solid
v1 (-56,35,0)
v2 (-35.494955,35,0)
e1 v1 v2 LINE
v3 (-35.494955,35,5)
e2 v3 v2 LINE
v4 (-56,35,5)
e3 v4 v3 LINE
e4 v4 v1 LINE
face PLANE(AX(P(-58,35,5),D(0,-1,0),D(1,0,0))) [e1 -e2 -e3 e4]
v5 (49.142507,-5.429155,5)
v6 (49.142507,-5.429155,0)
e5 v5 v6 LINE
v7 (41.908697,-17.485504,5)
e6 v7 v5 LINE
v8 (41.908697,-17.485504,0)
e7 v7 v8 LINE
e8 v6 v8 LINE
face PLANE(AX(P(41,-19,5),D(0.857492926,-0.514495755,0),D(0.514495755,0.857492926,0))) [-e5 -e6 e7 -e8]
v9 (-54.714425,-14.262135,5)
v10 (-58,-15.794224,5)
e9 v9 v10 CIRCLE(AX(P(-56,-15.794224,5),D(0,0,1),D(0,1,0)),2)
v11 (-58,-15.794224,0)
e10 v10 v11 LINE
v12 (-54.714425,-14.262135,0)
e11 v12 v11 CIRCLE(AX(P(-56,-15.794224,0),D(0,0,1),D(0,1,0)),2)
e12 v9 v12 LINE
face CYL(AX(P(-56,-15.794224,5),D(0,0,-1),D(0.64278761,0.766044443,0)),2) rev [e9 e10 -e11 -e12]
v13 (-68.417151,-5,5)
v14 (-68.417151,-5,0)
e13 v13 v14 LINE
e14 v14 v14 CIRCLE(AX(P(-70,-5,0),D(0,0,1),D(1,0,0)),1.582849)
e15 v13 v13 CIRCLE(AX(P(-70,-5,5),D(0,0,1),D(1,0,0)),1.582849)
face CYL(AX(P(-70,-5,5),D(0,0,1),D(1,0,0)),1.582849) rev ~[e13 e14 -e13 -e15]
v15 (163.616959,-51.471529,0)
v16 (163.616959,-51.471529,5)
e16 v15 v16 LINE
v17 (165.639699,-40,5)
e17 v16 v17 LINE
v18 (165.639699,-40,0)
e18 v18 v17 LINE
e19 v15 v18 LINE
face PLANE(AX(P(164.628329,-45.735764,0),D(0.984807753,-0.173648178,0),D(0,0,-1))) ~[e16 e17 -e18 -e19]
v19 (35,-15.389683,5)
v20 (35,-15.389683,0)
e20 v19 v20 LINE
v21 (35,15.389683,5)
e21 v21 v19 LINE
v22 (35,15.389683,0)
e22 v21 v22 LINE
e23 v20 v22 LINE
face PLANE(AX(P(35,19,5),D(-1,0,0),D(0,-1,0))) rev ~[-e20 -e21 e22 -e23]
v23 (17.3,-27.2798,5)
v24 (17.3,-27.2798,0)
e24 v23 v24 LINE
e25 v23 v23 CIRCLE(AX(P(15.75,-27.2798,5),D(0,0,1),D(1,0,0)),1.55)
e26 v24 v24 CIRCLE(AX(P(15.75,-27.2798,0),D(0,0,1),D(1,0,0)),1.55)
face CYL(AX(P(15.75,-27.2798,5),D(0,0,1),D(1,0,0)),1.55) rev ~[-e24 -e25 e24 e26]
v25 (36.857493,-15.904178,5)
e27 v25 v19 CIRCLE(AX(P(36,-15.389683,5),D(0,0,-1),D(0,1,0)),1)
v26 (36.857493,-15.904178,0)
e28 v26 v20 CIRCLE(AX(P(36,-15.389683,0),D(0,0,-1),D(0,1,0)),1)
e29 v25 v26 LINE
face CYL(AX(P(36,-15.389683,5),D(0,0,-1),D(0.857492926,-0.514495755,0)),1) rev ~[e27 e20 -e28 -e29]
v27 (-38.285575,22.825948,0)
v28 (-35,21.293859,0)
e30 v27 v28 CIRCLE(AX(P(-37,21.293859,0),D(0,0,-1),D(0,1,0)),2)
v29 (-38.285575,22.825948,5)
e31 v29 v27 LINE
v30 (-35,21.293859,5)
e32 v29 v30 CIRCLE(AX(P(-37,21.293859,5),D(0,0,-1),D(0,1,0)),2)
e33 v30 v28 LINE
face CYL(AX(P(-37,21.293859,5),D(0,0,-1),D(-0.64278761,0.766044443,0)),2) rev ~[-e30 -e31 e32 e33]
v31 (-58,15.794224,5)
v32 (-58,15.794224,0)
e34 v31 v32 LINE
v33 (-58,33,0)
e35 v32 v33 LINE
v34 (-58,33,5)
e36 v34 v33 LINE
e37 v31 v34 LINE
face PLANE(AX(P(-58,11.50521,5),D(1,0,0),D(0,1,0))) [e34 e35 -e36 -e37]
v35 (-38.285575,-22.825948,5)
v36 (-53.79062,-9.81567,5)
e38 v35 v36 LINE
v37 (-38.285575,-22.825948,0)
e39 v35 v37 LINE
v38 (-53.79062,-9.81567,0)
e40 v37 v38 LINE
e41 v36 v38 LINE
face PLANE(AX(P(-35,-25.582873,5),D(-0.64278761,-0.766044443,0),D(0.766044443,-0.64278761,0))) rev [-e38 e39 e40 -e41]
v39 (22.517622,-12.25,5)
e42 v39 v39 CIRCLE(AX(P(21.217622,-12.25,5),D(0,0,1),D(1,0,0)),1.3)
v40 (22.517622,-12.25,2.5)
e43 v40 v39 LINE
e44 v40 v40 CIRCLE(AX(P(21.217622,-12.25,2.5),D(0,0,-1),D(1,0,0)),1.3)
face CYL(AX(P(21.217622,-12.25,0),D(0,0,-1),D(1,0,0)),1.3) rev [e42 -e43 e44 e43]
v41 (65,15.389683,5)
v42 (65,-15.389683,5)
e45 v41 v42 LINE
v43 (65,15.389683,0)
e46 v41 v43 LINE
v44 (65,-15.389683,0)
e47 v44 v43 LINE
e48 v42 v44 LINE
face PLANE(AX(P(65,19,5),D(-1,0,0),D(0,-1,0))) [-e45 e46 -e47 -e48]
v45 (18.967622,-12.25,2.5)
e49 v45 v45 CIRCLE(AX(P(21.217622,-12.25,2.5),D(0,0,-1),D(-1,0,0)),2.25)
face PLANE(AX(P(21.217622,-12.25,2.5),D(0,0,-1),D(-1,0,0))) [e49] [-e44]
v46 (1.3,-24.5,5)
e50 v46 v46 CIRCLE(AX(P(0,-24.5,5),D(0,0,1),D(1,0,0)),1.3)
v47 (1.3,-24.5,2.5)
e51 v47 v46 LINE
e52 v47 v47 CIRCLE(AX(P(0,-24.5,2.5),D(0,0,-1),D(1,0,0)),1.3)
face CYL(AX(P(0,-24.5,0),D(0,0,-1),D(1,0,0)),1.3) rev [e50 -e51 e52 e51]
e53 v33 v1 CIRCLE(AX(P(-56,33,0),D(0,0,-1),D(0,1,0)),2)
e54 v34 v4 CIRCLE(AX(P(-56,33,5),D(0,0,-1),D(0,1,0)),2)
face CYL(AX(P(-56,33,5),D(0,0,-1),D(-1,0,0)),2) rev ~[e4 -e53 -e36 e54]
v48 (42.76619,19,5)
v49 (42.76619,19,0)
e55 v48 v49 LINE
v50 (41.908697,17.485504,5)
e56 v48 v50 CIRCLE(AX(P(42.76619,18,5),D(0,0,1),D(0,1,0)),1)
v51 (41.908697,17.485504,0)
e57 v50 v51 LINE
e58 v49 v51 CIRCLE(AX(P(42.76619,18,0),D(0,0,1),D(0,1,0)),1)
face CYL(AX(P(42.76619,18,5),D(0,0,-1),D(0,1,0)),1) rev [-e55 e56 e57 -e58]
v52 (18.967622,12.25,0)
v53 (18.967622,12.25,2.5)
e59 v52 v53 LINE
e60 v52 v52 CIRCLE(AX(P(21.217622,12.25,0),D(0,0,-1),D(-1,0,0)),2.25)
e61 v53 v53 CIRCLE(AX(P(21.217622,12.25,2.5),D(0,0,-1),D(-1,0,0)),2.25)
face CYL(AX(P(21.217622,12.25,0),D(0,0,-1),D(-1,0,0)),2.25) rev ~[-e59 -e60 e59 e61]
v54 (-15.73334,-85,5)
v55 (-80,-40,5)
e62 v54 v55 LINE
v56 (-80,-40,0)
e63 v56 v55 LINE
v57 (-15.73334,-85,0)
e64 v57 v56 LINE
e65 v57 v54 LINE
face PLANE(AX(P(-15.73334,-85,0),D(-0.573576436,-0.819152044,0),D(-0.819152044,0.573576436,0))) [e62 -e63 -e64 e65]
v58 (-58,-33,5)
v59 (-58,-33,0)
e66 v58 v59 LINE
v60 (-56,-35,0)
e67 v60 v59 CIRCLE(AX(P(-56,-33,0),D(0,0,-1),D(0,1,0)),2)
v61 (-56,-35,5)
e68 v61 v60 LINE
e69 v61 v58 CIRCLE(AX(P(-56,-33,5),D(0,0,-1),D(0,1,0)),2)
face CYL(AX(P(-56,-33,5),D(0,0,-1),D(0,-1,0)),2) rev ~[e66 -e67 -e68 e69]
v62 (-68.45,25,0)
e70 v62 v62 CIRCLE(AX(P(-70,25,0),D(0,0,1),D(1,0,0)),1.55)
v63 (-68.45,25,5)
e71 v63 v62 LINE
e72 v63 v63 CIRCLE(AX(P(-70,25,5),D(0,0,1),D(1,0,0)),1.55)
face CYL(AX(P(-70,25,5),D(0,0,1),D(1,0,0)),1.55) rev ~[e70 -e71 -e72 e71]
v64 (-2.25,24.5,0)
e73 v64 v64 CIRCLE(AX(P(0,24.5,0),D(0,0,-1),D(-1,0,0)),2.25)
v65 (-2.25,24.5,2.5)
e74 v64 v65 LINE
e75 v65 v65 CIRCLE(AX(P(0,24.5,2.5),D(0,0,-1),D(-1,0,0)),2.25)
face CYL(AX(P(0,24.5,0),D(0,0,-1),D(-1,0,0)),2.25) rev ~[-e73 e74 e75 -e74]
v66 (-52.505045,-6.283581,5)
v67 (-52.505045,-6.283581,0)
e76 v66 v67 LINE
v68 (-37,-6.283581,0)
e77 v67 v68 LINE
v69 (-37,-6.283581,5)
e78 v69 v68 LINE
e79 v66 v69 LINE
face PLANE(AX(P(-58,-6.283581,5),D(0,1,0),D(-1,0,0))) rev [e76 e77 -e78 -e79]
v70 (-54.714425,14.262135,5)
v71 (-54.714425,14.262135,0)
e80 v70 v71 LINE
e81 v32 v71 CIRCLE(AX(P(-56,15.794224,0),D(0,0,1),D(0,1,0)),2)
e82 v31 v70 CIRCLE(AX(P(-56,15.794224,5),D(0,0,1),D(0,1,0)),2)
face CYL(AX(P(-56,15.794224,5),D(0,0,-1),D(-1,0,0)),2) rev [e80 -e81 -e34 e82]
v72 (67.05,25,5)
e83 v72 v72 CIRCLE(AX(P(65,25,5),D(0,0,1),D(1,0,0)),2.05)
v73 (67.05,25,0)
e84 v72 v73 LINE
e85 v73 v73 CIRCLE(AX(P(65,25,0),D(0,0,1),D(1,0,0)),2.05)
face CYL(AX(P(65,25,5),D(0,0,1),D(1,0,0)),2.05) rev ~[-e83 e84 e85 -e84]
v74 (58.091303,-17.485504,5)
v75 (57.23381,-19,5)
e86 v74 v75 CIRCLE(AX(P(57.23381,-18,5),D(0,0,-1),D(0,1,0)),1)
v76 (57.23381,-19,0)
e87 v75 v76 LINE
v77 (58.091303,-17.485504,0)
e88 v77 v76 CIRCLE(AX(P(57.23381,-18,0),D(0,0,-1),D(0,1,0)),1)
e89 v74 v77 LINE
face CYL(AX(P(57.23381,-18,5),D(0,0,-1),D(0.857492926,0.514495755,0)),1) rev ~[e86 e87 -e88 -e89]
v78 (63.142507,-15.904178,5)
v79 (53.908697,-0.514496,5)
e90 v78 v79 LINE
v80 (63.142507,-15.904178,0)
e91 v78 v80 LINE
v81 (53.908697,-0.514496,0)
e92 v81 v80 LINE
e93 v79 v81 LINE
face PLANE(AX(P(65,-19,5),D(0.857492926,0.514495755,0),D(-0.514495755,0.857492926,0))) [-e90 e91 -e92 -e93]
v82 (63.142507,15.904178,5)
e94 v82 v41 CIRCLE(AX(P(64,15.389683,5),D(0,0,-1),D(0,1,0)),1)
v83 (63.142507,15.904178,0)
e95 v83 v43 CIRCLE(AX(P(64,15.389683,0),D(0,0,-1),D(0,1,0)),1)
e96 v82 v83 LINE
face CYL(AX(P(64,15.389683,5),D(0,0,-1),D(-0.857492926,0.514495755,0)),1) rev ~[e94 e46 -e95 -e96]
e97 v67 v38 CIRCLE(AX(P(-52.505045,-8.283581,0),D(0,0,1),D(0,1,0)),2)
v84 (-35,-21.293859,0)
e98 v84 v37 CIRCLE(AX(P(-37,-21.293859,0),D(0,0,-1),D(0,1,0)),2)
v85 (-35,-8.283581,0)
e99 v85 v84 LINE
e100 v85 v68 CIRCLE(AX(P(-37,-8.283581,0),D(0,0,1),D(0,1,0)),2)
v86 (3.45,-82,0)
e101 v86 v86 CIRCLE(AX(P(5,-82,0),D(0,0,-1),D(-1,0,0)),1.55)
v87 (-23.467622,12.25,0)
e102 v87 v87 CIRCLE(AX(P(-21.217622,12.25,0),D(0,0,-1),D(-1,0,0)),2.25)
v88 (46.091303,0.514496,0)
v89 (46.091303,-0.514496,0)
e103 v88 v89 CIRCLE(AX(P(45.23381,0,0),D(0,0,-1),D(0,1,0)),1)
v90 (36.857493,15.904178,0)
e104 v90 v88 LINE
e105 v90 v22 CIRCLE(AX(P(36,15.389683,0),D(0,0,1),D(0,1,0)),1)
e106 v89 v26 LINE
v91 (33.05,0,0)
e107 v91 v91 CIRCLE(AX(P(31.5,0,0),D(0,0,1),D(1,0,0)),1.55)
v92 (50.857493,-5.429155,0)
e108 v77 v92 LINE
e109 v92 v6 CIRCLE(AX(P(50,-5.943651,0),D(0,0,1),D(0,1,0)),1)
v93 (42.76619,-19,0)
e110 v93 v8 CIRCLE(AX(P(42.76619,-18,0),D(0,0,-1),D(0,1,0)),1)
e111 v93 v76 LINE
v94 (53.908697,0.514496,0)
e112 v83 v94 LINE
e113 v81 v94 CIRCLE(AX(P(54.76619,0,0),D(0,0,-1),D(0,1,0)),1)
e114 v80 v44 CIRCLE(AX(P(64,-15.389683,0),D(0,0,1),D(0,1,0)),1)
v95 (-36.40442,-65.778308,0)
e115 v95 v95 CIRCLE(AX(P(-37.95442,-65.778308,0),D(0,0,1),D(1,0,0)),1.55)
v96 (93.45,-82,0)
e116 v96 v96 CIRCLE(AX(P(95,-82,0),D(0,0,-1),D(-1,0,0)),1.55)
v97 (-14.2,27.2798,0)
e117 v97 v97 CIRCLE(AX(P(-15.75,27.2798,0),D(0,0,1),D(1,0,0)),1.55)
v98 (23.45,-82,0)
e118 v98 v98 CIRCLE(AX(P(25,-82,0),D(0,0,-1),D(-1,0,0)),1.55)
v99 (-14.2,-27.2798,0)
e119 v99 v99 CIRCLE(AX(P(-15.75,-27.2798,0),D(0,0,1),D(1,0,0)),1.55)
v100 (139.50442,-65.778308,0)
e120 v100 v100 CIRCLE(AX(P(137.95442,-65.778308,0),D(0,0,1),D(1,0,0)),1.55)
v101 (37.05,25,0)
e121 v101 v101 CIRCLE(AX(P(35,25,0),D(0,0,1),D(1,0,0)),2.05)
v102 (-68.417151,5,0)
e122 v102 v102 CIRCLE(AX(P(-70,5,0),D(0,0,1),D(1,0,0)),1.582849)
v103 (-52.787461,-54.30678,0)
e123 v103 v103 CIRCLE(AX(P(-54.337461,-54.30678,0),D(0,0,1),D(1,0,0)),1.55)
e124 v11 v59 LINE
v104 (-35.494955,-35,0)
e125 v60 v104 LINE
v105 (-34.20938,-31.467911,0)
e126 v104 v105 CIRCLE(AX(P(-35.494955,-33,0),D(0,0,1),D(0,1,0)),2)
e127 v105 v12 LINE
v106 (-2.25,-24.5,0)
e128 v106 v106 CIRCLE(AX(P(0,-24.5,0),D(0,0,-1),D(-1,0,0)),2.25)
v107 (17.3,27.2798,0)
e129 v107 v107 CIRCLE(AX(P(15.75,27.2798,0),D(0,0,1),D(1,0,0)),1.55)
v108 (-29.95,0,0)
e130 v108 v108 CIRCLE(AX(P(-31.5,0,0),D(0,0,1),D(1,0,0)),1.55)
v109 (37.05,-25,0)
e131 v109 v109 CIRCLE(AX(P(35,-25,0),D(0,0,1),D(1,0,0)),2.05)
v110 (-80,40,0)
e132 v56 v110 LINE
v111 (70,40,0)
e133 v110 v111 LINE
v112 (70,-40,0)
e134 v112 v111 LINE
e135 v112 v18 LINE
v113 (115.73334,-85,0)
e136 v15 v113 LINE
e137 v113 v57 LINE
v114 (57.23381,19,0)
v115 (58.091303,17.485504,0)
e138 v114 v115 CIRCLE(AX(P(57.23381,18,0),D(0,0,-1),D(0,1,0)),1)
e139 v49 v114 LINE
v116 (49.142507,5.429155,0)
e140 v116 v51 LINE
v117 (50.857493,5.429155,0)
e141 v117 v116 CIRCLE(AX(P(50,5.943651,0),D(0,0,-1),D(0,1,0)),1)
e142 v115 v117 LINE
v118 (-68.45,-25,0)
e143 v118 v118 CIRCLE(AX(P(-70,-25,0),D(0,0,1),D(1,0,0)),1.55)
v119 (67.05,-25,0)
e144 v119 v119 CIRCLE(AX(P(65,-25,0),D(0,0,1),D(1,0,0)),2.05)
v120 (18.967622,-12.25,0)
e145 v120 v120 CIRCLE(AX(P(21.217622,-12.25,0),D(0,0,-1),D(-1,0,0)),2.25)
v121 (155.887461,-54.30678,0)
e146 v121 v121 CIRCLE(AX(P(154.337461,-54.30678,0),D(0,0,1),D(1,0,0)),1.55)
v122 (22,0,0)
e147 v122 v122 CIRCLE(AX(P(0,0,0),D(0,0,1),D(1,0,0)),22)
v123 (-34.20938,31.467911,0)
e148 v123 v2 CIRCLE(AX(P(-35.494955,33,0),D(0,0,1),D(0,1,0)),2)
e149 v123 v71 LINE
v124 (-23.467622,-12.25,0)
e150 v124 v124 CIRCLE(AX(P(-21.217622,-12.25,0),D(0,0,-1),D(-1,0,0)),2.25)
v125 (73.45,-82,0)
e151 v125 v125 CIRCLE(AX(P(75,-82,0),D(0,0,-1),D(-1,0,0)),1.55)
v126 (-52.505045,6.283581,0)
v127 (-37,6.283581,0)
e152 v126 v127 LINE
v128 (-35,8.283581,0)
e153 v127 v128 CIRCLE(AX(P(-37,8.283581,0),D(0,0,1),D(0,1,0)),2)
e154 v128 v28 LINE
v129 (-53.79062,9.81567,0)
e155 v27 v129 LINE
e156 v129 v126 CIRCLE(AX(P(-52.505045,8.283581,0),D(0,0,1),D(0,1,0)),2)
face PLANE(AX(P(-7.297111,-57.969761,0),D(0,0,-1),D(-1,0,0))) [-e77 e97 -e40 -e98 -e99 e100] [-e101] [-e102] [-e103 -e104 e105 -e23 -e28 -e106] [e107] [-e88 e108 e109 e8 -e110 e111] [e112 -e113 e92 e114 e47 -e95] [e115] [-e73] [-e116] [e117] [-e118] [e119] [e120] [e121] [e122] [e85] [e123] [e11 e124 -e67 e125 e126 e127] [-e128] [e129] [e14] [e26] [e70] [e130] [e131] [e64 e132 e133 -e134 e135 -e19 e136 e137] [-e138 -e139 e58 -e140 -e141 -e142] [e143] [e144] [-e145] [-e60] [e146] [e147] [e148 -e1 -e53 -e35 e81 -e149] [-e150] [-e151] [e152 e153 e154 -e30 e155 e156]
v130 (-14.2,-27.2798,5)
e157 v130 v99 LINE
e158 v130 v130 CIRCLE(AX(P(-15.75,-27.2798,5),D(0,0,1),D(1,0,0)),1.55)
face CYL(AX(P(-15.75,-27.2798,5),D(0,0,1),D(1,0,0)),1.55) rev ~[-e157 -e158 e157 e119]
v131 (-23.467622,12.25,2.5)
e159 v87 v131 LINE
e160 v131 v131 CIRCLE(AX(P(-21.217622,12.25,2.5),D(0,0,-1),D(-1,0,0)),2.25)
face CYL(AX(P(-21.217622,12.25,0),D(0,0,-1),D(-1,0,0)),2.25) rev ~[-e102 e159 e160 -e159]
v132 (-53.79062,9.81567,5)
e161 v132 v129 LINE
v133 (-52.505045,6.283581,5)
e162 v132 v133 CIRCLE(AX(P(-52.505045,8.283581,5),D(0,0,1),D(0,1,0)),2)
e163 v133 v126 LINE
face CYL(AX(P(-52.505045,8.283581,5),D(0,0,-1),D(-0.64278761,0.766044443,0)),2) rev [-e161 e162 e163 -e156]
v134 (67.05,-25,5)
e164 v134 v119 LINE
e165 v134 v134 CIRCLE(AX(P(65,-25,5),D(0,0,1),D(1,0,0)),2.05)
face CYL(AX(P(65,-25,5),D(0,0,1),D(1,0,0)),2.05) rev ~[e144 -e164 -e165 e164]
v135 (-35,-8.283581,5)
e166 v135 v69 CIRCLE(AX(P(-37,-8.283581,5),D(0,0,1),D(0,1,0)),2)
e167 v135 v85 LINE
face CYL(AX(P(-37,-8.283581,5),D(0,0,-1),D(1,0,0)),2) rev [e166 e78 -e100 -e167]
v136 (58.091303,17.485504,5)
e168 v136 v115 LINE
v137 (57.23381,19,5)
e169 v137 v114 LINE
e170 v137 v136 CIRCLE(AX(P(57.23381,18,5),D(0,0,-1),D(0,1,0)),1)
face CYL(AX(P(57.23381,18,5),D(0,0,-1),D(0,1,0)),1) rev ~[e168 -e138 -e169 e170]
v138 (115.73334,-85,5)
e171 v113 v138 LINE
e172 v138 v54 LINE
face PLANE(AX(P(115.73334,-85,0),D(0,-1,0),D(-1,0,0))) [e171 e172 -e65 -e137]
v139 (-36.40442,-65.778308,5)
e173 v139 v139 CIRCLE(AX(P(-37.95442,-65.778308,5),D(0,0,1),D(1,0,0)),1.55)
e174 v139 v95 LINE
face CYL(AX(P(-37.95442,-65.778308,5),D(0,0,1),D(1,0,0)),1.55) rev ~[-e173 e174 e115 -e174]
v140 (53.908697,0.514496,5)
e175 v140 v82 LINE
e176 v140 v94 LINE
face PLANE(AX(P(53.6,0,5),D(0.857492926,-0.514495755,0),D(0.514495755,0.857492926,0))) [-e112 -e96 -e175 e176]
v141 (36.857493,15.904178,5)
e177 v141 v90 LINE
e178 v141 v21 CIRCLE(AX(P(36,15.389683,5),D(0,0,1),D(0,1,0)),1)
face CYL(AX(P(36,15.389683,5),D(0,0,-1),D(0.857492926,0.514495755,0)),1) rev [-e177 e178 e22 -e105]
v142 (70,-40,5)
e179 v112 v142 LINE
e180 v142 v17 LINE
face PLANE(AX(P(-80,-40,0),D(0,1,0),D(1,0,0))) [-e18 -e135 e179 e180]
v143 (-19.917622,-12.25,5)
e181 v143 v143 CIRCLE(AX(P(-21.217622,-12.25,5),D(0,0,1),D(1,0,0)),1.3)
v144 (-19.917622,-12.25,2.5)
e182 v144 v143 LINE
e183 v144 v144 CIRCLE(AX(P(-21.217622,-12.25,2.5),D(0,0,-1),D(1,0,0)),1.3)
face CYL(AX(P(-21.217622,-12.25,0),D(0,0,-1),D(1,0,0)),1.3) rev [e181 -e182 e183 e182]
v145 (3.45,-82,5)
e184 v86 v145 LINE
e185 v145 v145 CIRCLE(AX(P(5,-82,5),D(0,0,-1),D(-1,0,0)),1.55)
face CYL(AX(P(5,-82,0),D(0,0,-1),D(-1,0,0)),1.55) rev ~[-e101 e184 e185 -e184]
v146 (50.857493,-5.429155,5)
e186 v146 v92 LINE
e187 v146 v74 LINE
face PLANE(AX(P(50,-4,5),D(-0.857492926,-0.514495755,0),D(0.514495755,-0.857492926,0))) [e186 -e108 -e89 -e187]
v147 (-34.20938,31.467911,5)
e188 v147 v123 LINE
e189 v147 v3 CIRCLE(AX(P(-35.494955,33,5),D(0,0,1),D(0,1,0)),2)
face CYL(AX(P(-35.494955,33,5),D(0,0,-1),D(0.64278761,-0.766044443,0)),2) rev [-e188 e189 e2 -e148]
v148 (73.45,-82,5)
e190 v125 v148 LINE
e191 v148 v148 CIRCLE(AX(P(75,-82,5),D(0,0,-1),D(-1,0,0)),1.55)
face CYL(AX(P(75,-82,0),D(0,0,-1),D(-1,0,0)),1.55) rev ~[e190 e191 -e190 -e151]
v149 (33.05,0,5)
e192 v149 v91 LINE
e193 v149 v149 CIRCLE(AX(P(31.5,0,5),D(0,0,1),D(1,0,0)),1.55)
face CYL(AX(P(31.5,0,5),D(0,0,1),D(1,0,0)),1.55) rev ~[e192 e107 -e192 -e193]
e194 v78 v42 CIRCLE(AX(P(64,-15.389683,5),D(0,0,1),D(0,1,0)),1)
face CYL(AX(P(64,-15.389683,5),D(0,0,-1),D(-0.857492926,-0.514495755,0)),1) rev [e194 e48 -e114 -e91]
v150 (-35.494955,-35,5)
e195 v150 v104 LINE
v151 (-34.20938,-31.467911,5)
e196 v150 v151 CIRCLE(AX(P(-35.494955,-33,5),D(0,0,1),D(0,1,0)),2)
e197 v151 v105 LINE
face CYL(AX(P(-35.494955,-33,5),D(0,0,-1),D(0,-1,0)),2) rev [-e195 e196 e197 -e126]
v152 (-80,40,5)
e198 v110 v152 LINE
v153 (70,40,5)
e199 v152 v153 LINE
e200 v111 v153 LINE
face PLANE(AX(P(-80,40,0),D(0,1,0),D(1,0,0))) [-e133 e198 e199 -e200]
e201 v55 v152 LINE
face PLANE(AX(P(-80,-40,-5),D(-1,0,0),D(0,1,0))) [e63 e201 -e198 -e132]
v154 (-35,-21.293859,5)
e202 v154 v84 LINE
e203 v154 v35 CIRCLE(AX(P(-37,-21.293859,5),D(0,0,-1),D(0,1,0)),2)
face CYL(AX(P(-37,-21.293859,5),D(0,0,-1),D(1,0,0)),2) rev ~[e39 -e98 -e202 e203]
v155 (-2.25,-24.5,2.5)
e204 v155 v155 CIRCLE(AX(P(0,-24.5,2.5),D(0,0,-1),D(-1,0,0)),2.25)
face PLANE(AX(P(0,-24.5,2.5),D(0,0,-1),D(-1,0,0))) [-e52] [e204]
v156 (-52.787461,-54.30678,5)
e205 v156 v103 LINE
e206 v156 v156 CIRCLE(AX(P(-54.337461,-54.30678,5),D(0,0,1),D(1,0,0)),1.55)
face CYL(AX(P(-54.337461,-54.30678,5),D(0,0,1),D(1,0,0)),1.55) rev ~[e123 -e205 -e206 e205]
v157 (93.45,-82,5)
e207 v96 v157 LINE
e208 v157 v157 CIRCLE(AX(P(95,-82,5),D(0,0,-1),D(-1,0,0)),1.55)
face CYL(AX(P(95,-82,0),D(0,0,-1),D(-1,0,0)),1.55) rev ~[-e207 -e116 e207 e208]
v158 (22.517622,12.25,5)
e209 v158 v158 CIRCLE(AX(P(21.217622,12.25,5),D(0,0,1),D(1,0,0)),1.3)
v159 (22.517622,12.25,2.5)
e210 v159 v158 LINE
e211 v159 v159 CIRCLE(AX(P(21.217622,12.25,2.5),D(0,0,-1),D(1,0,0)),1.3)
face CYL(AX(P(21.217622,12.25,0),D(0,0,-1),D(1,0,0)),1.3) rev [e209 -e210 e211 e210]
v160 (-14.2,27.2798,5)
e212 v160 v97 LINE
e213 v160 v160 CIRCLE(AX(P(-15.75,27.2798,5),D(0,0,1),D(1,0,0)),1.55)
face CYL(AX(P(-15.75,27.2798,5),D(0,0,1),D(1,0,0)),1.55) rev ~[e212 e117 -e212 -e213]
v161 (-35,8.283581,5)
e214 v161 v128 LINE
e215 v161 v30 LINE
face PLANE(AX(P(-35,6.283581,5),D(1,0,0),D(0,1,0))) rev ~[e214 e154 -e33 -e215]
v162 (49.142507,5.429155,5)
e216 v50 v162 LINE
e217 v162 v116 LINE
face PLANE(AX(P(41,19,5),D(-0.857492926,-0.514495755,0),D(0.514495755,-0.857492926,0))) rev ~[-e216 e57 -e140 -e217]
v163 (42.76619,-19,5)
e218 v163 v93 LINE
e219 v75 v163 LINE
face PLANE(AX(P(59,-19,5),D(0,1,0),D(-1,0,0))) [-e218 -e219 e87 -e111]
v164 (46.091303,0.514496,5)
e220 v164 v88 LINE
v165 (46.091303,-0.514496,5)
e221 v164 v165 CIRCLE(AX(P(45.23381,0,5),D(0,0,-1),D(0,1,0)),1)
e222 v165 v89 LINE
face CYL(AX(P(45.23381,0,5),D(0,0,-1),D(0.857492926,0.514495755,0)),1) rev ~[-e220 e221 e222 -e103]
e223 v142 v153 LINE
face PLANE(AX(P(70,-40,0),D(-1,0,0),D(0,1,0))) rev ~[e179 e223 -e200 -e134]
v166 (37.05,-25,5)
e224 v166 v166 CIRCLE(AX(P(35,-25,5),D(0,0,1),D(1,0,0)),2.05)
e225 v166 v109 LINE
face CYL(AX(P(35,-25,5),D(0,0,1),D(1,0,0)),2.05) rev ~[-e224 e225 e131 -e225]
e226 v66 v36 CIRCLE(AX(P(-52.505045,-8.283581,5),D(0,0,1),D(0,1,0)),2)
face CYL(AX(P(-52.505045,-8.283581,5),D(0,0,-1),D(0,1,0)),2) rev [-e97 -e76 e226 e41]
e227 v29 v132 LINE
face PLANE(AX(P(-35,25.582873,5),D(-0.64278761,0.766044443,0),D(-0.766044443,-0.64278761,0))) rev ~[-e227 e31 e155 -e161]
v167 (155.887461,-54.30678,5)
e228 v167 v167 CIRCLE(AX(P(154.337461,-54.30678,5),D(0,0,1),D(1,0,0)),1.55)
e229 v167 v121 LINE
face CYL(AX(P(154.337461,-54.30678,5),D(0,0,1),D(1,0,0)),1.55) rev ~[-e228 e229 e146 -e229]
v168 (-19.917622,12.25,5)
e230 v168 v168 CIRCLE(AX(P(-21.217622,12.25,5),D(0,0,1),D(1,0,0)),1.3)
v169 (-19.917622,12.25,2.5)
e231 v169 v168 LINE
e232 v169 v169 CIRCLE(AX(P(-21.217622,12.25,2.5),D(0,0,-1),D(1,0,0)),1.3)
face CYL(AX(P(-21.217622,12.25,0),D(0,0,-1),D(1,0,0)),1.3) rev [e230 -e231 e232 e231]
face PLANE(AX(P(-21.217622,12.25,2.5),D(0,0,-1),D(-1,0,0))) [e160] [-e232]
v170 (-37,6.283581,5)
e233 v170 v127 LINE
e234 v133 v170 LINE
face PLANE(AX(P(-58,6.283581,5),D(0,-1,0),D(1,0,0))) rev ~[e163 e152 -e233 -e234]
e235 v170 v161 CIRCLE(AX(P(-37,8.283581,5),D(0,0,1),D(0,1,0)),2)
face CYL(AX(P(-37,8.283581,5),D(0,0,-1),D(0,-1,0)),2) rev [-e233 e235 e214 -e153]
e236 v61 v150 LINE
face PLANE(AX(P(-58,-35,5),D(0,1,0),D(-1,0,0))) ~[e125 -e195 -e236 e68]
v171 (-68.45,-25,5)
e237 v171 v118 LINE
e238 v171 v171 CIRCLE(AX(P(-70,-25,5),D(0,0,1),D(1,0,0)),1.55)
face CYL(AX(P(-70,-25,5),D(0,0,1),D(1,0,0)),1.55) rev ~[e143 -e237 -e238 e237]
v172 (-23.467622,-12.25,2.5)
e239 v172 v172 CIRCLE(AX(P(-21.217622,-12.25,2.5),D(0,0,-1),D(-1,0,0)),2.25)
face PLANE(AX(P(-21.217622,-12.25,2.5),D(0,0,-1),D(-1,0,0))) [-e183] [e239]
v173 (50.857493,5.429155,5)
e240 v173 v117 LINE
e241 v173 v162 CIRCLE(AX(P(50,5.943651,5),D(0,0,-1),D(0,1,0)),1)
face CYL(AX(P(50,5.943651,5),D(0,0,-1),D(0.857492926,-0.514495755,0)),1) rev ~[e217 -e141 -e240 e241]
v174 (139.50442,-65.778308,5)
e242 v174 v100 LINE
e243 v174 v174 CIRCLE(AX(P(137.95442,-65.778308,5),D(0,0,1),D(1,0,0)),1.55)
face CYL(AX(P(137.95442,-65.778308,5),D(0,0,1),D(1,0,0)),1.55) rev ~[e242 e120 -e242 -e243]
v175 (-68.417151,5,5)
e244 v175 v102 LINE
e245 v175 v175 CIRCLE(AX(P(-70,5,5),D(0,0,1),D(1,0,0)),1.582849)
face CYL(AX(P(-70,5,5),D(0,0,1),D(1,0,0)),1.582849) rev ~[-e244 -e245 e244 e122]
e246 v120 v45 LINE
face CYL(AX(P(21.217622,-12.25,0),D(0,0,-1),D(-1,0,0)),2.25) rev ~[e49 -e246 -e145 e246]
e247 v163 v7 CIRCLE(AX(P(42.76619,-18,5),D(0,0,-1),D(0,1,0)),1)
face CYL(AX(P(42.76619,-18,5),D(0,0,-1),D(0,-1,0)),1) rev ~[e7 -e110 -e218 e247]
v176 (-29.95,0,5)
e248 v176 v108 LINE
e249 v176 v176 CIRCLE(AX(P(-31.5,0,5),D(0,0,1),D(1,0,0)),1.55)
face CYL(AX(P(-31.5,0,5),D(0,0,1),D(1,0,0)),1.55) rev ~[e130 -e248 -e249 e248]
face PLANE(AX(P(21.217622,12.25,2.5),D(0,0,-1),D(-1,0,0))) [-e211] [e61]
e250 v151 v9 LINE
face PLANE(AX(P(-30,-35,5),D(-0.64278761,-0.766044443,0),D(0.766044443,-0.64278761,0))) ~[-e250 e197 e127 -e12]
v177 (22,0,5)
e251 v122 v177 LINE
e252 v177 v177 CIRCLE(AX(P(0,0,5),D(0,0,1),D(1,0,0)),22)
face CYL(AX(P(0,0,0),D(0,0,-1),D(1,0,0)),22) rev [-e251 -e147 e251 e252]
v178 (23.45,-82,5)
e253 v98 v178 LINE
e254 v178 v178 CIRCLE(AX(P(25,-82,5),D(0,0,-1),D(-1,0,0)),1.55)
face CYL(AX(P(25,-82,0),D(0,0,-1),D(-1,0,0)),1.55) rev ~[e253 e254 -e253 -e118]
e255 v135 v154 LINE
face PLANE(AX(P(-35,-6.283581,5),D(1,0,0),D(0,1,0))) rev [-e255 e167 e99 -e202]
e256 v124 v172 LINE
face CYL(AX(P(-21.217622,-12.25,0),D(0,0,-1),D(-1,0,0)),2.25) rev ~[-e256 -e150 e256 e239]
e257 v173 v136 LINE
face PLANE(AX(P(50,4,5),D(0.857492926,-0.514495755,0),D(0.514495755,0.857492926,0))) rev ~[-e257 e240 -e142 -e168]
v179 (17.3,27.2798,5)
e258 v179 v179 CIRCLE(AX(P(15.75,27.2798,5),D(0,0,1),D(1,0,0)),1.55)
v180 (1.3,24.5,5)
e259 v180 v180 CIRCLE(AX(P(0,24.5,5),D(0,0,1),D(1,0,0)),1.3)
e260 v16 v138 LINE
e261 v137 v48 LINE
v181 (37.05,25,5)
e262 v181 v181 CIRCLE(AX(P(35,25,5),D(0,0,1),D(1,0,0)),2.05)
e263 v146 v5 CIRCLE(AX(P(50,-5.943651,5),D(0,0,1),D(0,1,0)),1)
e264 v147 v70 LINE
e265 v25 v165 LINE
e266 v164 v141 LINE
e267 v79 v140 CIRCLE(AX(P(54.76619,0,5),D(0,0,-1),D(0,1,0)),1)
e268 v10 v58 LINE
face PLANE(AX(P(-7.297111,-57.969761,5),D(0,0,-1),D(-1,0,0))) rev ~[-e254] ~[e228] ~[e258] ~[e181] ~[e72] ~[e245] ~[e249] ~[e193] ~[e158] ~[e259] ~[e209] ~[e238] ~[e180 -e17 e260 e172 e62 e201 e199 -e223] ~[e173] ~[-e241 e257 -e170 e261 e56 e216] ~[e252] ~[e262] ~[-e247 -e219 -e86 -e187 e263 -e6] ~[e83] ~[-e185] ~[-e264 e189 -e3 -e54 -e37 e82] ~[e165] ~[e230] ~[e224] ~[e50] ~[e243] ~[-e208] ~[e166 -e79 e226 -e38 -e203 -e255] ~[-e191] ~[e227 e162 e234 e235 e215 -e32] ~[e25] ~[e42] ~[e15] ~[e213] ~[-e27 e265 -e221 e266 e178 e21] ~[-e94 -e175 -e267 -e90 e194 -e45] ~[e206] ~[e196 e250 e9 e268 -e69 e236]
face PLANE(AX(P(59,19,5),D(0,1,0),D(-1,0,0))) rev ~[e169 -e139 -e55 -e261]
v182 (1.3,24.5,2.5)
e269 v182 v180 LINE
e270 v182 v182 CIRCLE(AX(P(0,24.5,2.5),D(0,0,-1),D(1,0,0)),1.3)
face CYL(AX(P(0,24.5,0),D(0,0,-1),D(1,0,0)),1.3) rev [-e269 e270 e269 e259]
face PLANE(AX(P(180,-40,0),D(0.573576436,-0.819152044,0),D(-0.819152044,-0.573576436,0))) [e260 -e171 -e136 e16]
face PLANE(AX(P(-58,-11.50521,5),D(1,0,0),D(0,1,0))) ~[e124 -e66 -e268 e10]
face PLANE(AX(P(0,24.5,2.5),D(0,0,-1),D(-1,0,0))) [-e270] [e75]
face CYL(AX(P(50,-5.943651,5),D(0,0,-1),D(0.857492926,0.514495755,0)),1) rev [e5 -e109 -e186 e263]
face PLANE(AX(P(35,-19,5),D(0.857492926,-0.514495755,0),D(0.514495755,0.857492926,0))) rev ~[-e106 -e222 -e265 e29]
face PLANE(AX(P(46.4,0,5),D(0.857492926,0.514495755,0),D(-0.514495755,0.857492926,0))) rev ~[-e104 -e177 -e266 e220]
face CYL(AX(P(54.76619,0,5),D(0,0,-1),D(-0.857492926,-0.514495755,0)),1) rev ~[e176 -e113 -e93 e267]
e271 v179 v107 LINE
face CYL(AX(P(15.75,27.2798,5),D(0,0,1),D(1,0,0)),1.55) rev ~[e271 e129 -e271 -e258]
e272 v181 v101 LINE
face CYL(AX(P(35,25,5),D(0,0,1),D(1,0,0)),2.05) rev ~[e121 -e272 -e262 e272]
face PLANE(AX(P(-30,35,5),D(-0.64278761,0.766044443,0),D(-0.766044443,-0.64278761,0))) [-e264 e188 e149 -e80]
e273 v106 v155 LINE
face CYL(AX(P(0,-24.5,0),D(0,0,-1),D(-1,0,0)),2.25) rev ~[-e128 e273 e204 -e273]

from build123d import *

# Parameters (mm, degrees)
SKETCH_1_W             = 150
SKETCH_1_H             = 80
SKETCH_1_R             = 1.3
SKETCH_1_R_2           = 22
EXTRUDE_1_DEPTH        = 5
SKETCH_3_R             = 1.55
SKETCH_3_R_2           = 1.582849294
CUT_EXTRUDE_3_DEPTH    = 12.5
CUT_EXTRUDE_5_DEPTH    = 8
FILLET_3_R             = 2
FILLET_3_OF_MIRROR_2_R = 2
EXTRUDE_4_DEPTH        = 5
FILLET_5_R             = 5
SKETCH_11_R            = 1.55
CUT_EXTRUDE_7_DEPTH    = 25
SKETCH_12_R            = 2.05
CUT_EXTRUDE_8_DEPTH    = 10
CUT_EXTRUDE_9_DEPTH    = 10
FILLET_6_R             = 1
SKETCH_14_R            = 2.25
CUT_EXTRUDE_10_DEPTH   = 2.5
EXTRUDE_5_DEPTH        = 5
CHAMFER_1_SIZE         = 20
CHAMFER_1_SIZE2        = 14.360300861
SKETCH_16_R            = 1.55
CUT_EXTRUDE_11_DEPTH   = 10.5
CUT_EXTRUDE_START      = -10
CUT_EXTRUDE_12_DEPTH   = 10
SKETCH_18_R            = 1.55
CUT_EXTRUDE_13_DEPTH   = 13


with BuildPart() as part:
    # 草图1 → 凸台-拉伸1 (new body)
    with BuildSketch(Plane.XY):
        with Locations((-5, 0)):
            Rectangle(SKETCH_1_W, SKETCH_1_H)
        with Locations((0, -24.5)):
            Circle(SKETCH_1_R, mode=Mode.SUBTRACT)
        with Locations((-21.217622393, -12.25)):
            Circle(SKETCH_1_R, mode=Mode.SUBTRACT)
        with Locations((-21.217622393, 12.25)):
            Circle(SKETCH_1_R, mode=Mode.SUBTRACT)
        Circle(SKETCH_1_R_2, mode=Mode.SUBTRACT)
        with Locations((0, 24.5)):
            Circle(SKETCH_1_R, mode=Mode.SUBTRACT)
        with Locations((21.217622393, 12.25)):
            Circle(SKETCH_1_R, mode=Mode.SUBTRACT)
        with Locations((21.217622393, -12.25)):
            Circle(SKETCH_1_R, mode=Mode.SUBTRACT)
    extrude(amount=EXTRUDE_1_DEPTH)

    # 草图3 → 切除-拉伸3 (cut)
    with BuildSketch(Plane.XY.offset(5)):
        with Locations((-70, -25)):
            Circle(SKETCH_3_R)
        with Locations((-70, -5)):
            Circle(SKETCH_3_R_2)
        with Locations((-70, 25)):
            Circle(SKETCH_3_R)
        with Locations((-70, 5)):
            Circle(SKETCH_3_R_2)
    extrude(amount=-CUT_EXTRUDE_3_DEPTH, mode=Mode.SUBTRACT)

    # 草图4 → 切除-拉伸5 (cut)
    with BuildSketch(Plane.XY.offset(5)):
        Polygon((-58, 35), (-30, 35), (-58, 11.505210327), align=None)
        Polygon((-35, 25.582872687), (-58, 6.28358117), (-35, 6.28358117), align=None)
    cut_extrude_5 = extrude(amount=-CUT_EXTRUDE_5_DEPTH, mode=Mode.SUBTRACT)

    # 圆角3
    fillet_3_edges = [part.edges().sort_by_distance(p)[0] for p in [
        (-35, 6.28358117, 2.5),
        (-58, 6.28358117, 2.5),
        (-35, 25.582872687, 2.5),
        (-30, 35, 2.5),
        (-58, 11.505210327, 2.5),
        (-58, 35, 2.5),
    ]]
    fillet(fillet_3_edges, radius=FILLET_3_R)

    # 镜向2: 切除-拉伸5 across plane
    add(cut_extrude_5.mirror(Plane.ZX), mode=Mode.SUBTRACT)

    # 圆角3 of 镜向2
    fillet_3_of_mirror_2_edges = [part.edges().sort_by_distance(p)[0] for p in [
        (-35, -6.28358117, 2.5),
        (-58, -6.28358117, 2.5),
        (-35, -25.582872687, 2.5),
        (-30, -35, 2.5),
        (-58, -11.505210327, 2.5),
        (-58, -35, 2.5),
    ]]
    fillet(fillet_3_of_mirror_2_edges, radius=FILLET_3_OF_MIRROR_2_R)

    # 草图10 → 凸台-拉伸4 (add)
    with BuildSketch(Plane.XY.offset(5)):
        Polygon((-80, -40), (-127.053079228, -7.053079228), (-80, 40), align=None)
    extrude(amount=-EXTRUDE_4_DEPTH)

    # 圆角5
    fillet_5_edges = [part.edges().sort_by_distance(p)[0] for p in [
        (-127.053079228, -7.053079228, 2.5),
    ]]
    fillet(fillet_5_edges, radius=FILLET_5_R)

    # 草图11 → 切除-拉伸7 (cut)
    with BuildSketch(Plane.XY.offset(5)):
        with Locations((-15.75, 27.279800219)):
            Circle(SKETCH_11_R)
        with Locations((15.75, 27.279800219)):
            Circle(SKETCH_11_R)
        with Locations((31.5, 0)):
            Circle(SKETCH_11_R)
        with Locations((15.75, -27.279800219)):
            Circle(SKETCH_11_R)
        with Locations((-15.75, -27.279800219)):
            Circle(SKETCH_11_R)
        with Locations((-31.5, 0)):
            Circle(SKETCH_11_R)
    extrude(amount=-CUT_EXTRUDE_7_DEPTH, mode=Mode.SUBTRACT)

    # 草图12 → 切除-拉伸8 (cut)
    with BuildSketch(Plane.XY.offset(5)):
        with Locations((35, 25)):
            Circle(SKETCH_12_R)
        with Locations((65, 25)):
            Circle(SKETCH_12_R)
        with Locations((65, -25)):
            Circle(SKETCH_12_R)
        with Locations((35, -25)):
            Circle(SKETCH_12_R)
    extrude(amount=-CUT_EXTRUDE_8_DEPTH, mode=Mode.SUBTRACT)

    # 草图13 → 切除-拉伸9 (cut)
    with BuildSketch(Plane.XY.offset(5)):
        Polygon((35, 19), (35, -19), (46.4, 0), align=None)
        Polygon((65, -19), (53.6, 0), (65, 19), align=None)
        Polygon((41, 19), (50, 4), (59, 19), align=None)
        Polygon((50, -4), (59, -19), (41, -19), align=None)
    extrude(amount=-CUT_EXTRUDE_9_DEPTH, mode=Mode.SUBTRACT)

    # 圆角6
    fillet_6_edges = [part.edges().sort_by_distance(p)[0] for p in [
        (41, 19, 2.5),
        (59, 19, 2.5),
        (50, 4, 2.5),
        (65, 19, 2.5),
        (65, -19, 2.5),
        (53.6, 0, 2.5),
        (41, -19, 2.5),
        (50, -4, 2.5),
        (59, -19, 2.5),
        (35, 19, 2.5),
        (46.4, 0, 2.5),
        (35, -19, 2.5),
    ]]
    fillet(fillet_6_edges, radius=FILLET_6_R)

    # 草图14 → 切除-拉伸10 (cut)
    with BuildSketch(Plane(origin=(0, 0, 0), x_dir=(-1, 0, 0), z_dir=(0, 0, -1))):
        with Locations((0, 24.5)):
            Circle(SKETCH_14_R)
        with Locations((21.217622393, 12.25)):
            Circle(SKETCH_14_R)
        with Locations((21.217622393, -12.25)):
            Circle(SKETCH_14_R)
        with Locations((0, -24.5)):
            Circle(SKETCH_14_R)
        with Locations((-21.217622393, -12.25)):
            Circle(SKETCH_14_R)
        with Locations((-21.217622393, 12.25)):
            Circle(SKETCH_14_R)
    extrude(amount=-CUT_EXTRUDE_10_DEPTH, mode=Mode.SUBTRACT)

    # 草图15 → 凸台-拉伸5 (add)
    with BuildSketch(Plane(origin=(0, 0, 0), x_dir=(-1, 0, 0), z_dir=(0, 0, -1))):
        Polygon((15.733339697, -85), (80, -40), (-50, -40), (-50, -85), align=None)
        Polygon((-50, -85), (-50, -40), (-180, -40), (-115.733339697, -85), align=None)
    extrude(amount=-EXTRUDE_5_DEPTH)

    # 倒角1
    chamfer_1_edges = [part.edges().sort_by_distance(p)[0] for p in [
        (180, -40, 2.5),
    ]]
    chamfer_1_side = [part.faces().sort_by_distance(p)[0] for p in [
        (147.866669848, -62.5, 2.5),
    ]]
    chamfer(chamfer_1_edges, length=CHAMFER_1_SIZE, length2=CHAMFER_1_SIZE2, reference=chamfer_1_side[0])

    # 草图16 → 切除-拉伸11 (cut)
    with BuildSketch(Plane(origin=(0, 0, 0), x_dir=(-1, 0, 0), z_dir=(0, 0, -1))):
        with Locations((-95, -82)):
            Circle(SKETCH_16_R)
        with Locations((-75, -82)):
            Circle(SKETCH_16_R)
        with Locations((-25, -82)):
            Circle(SKETCH_16_R)
        with Locations((-5, -82)):
            Circle(SKETCH_16_R)
    extrude(amount=-CUT_EXTRUDE_11_DEPTH, mode=Mode.SUBTRACT)

    # 草图17 → 切除-拉伸12 (cut)
    with BuildSketch(Plane.XY.offset(5).offset(CUT_EXTRUDE_START)):
        with BuildLine():
            Line((-80, 40), (-122.839593994, -2.839593994))
            ThreePointArc((-122.839593994, -2.839593994), (-124.285033579, -6.810906614), (-122.17194227, -10.470888122))
            Line((-122.17194227, -10.470888122), (-80, -40))
            Line((-80, -40), (-80, 0))
            Line((-80, 0), (-80, 40))
        make_face()
    extrude(amount=CUT_EXTRUDE_12_DEPTH, mode=Mode.SUBTRACT)

    # 草图18 → 切除-拉伸13 (cut)
    with BuildSketch(Plane.XY.offset(5)):
        with Locations((-54.337460982, -54.306779504)):
            Circle(SKETCH_18_R)
        with Locations((-37.954420096, -65.778308231)):
            Circle(SKETCH_18_R)
        with Locations((137.954420096, -65.778308231)):
            Circle(SKETCH_18_R)
        with Locations((154.337460982, -54.306779504)):
            Circle(SKETCH_18_R)
    extrude(amount=-CUT_EXTRUDE_13_DEPTH, mode=Mode.SUBTRACT)


solid = part.part
